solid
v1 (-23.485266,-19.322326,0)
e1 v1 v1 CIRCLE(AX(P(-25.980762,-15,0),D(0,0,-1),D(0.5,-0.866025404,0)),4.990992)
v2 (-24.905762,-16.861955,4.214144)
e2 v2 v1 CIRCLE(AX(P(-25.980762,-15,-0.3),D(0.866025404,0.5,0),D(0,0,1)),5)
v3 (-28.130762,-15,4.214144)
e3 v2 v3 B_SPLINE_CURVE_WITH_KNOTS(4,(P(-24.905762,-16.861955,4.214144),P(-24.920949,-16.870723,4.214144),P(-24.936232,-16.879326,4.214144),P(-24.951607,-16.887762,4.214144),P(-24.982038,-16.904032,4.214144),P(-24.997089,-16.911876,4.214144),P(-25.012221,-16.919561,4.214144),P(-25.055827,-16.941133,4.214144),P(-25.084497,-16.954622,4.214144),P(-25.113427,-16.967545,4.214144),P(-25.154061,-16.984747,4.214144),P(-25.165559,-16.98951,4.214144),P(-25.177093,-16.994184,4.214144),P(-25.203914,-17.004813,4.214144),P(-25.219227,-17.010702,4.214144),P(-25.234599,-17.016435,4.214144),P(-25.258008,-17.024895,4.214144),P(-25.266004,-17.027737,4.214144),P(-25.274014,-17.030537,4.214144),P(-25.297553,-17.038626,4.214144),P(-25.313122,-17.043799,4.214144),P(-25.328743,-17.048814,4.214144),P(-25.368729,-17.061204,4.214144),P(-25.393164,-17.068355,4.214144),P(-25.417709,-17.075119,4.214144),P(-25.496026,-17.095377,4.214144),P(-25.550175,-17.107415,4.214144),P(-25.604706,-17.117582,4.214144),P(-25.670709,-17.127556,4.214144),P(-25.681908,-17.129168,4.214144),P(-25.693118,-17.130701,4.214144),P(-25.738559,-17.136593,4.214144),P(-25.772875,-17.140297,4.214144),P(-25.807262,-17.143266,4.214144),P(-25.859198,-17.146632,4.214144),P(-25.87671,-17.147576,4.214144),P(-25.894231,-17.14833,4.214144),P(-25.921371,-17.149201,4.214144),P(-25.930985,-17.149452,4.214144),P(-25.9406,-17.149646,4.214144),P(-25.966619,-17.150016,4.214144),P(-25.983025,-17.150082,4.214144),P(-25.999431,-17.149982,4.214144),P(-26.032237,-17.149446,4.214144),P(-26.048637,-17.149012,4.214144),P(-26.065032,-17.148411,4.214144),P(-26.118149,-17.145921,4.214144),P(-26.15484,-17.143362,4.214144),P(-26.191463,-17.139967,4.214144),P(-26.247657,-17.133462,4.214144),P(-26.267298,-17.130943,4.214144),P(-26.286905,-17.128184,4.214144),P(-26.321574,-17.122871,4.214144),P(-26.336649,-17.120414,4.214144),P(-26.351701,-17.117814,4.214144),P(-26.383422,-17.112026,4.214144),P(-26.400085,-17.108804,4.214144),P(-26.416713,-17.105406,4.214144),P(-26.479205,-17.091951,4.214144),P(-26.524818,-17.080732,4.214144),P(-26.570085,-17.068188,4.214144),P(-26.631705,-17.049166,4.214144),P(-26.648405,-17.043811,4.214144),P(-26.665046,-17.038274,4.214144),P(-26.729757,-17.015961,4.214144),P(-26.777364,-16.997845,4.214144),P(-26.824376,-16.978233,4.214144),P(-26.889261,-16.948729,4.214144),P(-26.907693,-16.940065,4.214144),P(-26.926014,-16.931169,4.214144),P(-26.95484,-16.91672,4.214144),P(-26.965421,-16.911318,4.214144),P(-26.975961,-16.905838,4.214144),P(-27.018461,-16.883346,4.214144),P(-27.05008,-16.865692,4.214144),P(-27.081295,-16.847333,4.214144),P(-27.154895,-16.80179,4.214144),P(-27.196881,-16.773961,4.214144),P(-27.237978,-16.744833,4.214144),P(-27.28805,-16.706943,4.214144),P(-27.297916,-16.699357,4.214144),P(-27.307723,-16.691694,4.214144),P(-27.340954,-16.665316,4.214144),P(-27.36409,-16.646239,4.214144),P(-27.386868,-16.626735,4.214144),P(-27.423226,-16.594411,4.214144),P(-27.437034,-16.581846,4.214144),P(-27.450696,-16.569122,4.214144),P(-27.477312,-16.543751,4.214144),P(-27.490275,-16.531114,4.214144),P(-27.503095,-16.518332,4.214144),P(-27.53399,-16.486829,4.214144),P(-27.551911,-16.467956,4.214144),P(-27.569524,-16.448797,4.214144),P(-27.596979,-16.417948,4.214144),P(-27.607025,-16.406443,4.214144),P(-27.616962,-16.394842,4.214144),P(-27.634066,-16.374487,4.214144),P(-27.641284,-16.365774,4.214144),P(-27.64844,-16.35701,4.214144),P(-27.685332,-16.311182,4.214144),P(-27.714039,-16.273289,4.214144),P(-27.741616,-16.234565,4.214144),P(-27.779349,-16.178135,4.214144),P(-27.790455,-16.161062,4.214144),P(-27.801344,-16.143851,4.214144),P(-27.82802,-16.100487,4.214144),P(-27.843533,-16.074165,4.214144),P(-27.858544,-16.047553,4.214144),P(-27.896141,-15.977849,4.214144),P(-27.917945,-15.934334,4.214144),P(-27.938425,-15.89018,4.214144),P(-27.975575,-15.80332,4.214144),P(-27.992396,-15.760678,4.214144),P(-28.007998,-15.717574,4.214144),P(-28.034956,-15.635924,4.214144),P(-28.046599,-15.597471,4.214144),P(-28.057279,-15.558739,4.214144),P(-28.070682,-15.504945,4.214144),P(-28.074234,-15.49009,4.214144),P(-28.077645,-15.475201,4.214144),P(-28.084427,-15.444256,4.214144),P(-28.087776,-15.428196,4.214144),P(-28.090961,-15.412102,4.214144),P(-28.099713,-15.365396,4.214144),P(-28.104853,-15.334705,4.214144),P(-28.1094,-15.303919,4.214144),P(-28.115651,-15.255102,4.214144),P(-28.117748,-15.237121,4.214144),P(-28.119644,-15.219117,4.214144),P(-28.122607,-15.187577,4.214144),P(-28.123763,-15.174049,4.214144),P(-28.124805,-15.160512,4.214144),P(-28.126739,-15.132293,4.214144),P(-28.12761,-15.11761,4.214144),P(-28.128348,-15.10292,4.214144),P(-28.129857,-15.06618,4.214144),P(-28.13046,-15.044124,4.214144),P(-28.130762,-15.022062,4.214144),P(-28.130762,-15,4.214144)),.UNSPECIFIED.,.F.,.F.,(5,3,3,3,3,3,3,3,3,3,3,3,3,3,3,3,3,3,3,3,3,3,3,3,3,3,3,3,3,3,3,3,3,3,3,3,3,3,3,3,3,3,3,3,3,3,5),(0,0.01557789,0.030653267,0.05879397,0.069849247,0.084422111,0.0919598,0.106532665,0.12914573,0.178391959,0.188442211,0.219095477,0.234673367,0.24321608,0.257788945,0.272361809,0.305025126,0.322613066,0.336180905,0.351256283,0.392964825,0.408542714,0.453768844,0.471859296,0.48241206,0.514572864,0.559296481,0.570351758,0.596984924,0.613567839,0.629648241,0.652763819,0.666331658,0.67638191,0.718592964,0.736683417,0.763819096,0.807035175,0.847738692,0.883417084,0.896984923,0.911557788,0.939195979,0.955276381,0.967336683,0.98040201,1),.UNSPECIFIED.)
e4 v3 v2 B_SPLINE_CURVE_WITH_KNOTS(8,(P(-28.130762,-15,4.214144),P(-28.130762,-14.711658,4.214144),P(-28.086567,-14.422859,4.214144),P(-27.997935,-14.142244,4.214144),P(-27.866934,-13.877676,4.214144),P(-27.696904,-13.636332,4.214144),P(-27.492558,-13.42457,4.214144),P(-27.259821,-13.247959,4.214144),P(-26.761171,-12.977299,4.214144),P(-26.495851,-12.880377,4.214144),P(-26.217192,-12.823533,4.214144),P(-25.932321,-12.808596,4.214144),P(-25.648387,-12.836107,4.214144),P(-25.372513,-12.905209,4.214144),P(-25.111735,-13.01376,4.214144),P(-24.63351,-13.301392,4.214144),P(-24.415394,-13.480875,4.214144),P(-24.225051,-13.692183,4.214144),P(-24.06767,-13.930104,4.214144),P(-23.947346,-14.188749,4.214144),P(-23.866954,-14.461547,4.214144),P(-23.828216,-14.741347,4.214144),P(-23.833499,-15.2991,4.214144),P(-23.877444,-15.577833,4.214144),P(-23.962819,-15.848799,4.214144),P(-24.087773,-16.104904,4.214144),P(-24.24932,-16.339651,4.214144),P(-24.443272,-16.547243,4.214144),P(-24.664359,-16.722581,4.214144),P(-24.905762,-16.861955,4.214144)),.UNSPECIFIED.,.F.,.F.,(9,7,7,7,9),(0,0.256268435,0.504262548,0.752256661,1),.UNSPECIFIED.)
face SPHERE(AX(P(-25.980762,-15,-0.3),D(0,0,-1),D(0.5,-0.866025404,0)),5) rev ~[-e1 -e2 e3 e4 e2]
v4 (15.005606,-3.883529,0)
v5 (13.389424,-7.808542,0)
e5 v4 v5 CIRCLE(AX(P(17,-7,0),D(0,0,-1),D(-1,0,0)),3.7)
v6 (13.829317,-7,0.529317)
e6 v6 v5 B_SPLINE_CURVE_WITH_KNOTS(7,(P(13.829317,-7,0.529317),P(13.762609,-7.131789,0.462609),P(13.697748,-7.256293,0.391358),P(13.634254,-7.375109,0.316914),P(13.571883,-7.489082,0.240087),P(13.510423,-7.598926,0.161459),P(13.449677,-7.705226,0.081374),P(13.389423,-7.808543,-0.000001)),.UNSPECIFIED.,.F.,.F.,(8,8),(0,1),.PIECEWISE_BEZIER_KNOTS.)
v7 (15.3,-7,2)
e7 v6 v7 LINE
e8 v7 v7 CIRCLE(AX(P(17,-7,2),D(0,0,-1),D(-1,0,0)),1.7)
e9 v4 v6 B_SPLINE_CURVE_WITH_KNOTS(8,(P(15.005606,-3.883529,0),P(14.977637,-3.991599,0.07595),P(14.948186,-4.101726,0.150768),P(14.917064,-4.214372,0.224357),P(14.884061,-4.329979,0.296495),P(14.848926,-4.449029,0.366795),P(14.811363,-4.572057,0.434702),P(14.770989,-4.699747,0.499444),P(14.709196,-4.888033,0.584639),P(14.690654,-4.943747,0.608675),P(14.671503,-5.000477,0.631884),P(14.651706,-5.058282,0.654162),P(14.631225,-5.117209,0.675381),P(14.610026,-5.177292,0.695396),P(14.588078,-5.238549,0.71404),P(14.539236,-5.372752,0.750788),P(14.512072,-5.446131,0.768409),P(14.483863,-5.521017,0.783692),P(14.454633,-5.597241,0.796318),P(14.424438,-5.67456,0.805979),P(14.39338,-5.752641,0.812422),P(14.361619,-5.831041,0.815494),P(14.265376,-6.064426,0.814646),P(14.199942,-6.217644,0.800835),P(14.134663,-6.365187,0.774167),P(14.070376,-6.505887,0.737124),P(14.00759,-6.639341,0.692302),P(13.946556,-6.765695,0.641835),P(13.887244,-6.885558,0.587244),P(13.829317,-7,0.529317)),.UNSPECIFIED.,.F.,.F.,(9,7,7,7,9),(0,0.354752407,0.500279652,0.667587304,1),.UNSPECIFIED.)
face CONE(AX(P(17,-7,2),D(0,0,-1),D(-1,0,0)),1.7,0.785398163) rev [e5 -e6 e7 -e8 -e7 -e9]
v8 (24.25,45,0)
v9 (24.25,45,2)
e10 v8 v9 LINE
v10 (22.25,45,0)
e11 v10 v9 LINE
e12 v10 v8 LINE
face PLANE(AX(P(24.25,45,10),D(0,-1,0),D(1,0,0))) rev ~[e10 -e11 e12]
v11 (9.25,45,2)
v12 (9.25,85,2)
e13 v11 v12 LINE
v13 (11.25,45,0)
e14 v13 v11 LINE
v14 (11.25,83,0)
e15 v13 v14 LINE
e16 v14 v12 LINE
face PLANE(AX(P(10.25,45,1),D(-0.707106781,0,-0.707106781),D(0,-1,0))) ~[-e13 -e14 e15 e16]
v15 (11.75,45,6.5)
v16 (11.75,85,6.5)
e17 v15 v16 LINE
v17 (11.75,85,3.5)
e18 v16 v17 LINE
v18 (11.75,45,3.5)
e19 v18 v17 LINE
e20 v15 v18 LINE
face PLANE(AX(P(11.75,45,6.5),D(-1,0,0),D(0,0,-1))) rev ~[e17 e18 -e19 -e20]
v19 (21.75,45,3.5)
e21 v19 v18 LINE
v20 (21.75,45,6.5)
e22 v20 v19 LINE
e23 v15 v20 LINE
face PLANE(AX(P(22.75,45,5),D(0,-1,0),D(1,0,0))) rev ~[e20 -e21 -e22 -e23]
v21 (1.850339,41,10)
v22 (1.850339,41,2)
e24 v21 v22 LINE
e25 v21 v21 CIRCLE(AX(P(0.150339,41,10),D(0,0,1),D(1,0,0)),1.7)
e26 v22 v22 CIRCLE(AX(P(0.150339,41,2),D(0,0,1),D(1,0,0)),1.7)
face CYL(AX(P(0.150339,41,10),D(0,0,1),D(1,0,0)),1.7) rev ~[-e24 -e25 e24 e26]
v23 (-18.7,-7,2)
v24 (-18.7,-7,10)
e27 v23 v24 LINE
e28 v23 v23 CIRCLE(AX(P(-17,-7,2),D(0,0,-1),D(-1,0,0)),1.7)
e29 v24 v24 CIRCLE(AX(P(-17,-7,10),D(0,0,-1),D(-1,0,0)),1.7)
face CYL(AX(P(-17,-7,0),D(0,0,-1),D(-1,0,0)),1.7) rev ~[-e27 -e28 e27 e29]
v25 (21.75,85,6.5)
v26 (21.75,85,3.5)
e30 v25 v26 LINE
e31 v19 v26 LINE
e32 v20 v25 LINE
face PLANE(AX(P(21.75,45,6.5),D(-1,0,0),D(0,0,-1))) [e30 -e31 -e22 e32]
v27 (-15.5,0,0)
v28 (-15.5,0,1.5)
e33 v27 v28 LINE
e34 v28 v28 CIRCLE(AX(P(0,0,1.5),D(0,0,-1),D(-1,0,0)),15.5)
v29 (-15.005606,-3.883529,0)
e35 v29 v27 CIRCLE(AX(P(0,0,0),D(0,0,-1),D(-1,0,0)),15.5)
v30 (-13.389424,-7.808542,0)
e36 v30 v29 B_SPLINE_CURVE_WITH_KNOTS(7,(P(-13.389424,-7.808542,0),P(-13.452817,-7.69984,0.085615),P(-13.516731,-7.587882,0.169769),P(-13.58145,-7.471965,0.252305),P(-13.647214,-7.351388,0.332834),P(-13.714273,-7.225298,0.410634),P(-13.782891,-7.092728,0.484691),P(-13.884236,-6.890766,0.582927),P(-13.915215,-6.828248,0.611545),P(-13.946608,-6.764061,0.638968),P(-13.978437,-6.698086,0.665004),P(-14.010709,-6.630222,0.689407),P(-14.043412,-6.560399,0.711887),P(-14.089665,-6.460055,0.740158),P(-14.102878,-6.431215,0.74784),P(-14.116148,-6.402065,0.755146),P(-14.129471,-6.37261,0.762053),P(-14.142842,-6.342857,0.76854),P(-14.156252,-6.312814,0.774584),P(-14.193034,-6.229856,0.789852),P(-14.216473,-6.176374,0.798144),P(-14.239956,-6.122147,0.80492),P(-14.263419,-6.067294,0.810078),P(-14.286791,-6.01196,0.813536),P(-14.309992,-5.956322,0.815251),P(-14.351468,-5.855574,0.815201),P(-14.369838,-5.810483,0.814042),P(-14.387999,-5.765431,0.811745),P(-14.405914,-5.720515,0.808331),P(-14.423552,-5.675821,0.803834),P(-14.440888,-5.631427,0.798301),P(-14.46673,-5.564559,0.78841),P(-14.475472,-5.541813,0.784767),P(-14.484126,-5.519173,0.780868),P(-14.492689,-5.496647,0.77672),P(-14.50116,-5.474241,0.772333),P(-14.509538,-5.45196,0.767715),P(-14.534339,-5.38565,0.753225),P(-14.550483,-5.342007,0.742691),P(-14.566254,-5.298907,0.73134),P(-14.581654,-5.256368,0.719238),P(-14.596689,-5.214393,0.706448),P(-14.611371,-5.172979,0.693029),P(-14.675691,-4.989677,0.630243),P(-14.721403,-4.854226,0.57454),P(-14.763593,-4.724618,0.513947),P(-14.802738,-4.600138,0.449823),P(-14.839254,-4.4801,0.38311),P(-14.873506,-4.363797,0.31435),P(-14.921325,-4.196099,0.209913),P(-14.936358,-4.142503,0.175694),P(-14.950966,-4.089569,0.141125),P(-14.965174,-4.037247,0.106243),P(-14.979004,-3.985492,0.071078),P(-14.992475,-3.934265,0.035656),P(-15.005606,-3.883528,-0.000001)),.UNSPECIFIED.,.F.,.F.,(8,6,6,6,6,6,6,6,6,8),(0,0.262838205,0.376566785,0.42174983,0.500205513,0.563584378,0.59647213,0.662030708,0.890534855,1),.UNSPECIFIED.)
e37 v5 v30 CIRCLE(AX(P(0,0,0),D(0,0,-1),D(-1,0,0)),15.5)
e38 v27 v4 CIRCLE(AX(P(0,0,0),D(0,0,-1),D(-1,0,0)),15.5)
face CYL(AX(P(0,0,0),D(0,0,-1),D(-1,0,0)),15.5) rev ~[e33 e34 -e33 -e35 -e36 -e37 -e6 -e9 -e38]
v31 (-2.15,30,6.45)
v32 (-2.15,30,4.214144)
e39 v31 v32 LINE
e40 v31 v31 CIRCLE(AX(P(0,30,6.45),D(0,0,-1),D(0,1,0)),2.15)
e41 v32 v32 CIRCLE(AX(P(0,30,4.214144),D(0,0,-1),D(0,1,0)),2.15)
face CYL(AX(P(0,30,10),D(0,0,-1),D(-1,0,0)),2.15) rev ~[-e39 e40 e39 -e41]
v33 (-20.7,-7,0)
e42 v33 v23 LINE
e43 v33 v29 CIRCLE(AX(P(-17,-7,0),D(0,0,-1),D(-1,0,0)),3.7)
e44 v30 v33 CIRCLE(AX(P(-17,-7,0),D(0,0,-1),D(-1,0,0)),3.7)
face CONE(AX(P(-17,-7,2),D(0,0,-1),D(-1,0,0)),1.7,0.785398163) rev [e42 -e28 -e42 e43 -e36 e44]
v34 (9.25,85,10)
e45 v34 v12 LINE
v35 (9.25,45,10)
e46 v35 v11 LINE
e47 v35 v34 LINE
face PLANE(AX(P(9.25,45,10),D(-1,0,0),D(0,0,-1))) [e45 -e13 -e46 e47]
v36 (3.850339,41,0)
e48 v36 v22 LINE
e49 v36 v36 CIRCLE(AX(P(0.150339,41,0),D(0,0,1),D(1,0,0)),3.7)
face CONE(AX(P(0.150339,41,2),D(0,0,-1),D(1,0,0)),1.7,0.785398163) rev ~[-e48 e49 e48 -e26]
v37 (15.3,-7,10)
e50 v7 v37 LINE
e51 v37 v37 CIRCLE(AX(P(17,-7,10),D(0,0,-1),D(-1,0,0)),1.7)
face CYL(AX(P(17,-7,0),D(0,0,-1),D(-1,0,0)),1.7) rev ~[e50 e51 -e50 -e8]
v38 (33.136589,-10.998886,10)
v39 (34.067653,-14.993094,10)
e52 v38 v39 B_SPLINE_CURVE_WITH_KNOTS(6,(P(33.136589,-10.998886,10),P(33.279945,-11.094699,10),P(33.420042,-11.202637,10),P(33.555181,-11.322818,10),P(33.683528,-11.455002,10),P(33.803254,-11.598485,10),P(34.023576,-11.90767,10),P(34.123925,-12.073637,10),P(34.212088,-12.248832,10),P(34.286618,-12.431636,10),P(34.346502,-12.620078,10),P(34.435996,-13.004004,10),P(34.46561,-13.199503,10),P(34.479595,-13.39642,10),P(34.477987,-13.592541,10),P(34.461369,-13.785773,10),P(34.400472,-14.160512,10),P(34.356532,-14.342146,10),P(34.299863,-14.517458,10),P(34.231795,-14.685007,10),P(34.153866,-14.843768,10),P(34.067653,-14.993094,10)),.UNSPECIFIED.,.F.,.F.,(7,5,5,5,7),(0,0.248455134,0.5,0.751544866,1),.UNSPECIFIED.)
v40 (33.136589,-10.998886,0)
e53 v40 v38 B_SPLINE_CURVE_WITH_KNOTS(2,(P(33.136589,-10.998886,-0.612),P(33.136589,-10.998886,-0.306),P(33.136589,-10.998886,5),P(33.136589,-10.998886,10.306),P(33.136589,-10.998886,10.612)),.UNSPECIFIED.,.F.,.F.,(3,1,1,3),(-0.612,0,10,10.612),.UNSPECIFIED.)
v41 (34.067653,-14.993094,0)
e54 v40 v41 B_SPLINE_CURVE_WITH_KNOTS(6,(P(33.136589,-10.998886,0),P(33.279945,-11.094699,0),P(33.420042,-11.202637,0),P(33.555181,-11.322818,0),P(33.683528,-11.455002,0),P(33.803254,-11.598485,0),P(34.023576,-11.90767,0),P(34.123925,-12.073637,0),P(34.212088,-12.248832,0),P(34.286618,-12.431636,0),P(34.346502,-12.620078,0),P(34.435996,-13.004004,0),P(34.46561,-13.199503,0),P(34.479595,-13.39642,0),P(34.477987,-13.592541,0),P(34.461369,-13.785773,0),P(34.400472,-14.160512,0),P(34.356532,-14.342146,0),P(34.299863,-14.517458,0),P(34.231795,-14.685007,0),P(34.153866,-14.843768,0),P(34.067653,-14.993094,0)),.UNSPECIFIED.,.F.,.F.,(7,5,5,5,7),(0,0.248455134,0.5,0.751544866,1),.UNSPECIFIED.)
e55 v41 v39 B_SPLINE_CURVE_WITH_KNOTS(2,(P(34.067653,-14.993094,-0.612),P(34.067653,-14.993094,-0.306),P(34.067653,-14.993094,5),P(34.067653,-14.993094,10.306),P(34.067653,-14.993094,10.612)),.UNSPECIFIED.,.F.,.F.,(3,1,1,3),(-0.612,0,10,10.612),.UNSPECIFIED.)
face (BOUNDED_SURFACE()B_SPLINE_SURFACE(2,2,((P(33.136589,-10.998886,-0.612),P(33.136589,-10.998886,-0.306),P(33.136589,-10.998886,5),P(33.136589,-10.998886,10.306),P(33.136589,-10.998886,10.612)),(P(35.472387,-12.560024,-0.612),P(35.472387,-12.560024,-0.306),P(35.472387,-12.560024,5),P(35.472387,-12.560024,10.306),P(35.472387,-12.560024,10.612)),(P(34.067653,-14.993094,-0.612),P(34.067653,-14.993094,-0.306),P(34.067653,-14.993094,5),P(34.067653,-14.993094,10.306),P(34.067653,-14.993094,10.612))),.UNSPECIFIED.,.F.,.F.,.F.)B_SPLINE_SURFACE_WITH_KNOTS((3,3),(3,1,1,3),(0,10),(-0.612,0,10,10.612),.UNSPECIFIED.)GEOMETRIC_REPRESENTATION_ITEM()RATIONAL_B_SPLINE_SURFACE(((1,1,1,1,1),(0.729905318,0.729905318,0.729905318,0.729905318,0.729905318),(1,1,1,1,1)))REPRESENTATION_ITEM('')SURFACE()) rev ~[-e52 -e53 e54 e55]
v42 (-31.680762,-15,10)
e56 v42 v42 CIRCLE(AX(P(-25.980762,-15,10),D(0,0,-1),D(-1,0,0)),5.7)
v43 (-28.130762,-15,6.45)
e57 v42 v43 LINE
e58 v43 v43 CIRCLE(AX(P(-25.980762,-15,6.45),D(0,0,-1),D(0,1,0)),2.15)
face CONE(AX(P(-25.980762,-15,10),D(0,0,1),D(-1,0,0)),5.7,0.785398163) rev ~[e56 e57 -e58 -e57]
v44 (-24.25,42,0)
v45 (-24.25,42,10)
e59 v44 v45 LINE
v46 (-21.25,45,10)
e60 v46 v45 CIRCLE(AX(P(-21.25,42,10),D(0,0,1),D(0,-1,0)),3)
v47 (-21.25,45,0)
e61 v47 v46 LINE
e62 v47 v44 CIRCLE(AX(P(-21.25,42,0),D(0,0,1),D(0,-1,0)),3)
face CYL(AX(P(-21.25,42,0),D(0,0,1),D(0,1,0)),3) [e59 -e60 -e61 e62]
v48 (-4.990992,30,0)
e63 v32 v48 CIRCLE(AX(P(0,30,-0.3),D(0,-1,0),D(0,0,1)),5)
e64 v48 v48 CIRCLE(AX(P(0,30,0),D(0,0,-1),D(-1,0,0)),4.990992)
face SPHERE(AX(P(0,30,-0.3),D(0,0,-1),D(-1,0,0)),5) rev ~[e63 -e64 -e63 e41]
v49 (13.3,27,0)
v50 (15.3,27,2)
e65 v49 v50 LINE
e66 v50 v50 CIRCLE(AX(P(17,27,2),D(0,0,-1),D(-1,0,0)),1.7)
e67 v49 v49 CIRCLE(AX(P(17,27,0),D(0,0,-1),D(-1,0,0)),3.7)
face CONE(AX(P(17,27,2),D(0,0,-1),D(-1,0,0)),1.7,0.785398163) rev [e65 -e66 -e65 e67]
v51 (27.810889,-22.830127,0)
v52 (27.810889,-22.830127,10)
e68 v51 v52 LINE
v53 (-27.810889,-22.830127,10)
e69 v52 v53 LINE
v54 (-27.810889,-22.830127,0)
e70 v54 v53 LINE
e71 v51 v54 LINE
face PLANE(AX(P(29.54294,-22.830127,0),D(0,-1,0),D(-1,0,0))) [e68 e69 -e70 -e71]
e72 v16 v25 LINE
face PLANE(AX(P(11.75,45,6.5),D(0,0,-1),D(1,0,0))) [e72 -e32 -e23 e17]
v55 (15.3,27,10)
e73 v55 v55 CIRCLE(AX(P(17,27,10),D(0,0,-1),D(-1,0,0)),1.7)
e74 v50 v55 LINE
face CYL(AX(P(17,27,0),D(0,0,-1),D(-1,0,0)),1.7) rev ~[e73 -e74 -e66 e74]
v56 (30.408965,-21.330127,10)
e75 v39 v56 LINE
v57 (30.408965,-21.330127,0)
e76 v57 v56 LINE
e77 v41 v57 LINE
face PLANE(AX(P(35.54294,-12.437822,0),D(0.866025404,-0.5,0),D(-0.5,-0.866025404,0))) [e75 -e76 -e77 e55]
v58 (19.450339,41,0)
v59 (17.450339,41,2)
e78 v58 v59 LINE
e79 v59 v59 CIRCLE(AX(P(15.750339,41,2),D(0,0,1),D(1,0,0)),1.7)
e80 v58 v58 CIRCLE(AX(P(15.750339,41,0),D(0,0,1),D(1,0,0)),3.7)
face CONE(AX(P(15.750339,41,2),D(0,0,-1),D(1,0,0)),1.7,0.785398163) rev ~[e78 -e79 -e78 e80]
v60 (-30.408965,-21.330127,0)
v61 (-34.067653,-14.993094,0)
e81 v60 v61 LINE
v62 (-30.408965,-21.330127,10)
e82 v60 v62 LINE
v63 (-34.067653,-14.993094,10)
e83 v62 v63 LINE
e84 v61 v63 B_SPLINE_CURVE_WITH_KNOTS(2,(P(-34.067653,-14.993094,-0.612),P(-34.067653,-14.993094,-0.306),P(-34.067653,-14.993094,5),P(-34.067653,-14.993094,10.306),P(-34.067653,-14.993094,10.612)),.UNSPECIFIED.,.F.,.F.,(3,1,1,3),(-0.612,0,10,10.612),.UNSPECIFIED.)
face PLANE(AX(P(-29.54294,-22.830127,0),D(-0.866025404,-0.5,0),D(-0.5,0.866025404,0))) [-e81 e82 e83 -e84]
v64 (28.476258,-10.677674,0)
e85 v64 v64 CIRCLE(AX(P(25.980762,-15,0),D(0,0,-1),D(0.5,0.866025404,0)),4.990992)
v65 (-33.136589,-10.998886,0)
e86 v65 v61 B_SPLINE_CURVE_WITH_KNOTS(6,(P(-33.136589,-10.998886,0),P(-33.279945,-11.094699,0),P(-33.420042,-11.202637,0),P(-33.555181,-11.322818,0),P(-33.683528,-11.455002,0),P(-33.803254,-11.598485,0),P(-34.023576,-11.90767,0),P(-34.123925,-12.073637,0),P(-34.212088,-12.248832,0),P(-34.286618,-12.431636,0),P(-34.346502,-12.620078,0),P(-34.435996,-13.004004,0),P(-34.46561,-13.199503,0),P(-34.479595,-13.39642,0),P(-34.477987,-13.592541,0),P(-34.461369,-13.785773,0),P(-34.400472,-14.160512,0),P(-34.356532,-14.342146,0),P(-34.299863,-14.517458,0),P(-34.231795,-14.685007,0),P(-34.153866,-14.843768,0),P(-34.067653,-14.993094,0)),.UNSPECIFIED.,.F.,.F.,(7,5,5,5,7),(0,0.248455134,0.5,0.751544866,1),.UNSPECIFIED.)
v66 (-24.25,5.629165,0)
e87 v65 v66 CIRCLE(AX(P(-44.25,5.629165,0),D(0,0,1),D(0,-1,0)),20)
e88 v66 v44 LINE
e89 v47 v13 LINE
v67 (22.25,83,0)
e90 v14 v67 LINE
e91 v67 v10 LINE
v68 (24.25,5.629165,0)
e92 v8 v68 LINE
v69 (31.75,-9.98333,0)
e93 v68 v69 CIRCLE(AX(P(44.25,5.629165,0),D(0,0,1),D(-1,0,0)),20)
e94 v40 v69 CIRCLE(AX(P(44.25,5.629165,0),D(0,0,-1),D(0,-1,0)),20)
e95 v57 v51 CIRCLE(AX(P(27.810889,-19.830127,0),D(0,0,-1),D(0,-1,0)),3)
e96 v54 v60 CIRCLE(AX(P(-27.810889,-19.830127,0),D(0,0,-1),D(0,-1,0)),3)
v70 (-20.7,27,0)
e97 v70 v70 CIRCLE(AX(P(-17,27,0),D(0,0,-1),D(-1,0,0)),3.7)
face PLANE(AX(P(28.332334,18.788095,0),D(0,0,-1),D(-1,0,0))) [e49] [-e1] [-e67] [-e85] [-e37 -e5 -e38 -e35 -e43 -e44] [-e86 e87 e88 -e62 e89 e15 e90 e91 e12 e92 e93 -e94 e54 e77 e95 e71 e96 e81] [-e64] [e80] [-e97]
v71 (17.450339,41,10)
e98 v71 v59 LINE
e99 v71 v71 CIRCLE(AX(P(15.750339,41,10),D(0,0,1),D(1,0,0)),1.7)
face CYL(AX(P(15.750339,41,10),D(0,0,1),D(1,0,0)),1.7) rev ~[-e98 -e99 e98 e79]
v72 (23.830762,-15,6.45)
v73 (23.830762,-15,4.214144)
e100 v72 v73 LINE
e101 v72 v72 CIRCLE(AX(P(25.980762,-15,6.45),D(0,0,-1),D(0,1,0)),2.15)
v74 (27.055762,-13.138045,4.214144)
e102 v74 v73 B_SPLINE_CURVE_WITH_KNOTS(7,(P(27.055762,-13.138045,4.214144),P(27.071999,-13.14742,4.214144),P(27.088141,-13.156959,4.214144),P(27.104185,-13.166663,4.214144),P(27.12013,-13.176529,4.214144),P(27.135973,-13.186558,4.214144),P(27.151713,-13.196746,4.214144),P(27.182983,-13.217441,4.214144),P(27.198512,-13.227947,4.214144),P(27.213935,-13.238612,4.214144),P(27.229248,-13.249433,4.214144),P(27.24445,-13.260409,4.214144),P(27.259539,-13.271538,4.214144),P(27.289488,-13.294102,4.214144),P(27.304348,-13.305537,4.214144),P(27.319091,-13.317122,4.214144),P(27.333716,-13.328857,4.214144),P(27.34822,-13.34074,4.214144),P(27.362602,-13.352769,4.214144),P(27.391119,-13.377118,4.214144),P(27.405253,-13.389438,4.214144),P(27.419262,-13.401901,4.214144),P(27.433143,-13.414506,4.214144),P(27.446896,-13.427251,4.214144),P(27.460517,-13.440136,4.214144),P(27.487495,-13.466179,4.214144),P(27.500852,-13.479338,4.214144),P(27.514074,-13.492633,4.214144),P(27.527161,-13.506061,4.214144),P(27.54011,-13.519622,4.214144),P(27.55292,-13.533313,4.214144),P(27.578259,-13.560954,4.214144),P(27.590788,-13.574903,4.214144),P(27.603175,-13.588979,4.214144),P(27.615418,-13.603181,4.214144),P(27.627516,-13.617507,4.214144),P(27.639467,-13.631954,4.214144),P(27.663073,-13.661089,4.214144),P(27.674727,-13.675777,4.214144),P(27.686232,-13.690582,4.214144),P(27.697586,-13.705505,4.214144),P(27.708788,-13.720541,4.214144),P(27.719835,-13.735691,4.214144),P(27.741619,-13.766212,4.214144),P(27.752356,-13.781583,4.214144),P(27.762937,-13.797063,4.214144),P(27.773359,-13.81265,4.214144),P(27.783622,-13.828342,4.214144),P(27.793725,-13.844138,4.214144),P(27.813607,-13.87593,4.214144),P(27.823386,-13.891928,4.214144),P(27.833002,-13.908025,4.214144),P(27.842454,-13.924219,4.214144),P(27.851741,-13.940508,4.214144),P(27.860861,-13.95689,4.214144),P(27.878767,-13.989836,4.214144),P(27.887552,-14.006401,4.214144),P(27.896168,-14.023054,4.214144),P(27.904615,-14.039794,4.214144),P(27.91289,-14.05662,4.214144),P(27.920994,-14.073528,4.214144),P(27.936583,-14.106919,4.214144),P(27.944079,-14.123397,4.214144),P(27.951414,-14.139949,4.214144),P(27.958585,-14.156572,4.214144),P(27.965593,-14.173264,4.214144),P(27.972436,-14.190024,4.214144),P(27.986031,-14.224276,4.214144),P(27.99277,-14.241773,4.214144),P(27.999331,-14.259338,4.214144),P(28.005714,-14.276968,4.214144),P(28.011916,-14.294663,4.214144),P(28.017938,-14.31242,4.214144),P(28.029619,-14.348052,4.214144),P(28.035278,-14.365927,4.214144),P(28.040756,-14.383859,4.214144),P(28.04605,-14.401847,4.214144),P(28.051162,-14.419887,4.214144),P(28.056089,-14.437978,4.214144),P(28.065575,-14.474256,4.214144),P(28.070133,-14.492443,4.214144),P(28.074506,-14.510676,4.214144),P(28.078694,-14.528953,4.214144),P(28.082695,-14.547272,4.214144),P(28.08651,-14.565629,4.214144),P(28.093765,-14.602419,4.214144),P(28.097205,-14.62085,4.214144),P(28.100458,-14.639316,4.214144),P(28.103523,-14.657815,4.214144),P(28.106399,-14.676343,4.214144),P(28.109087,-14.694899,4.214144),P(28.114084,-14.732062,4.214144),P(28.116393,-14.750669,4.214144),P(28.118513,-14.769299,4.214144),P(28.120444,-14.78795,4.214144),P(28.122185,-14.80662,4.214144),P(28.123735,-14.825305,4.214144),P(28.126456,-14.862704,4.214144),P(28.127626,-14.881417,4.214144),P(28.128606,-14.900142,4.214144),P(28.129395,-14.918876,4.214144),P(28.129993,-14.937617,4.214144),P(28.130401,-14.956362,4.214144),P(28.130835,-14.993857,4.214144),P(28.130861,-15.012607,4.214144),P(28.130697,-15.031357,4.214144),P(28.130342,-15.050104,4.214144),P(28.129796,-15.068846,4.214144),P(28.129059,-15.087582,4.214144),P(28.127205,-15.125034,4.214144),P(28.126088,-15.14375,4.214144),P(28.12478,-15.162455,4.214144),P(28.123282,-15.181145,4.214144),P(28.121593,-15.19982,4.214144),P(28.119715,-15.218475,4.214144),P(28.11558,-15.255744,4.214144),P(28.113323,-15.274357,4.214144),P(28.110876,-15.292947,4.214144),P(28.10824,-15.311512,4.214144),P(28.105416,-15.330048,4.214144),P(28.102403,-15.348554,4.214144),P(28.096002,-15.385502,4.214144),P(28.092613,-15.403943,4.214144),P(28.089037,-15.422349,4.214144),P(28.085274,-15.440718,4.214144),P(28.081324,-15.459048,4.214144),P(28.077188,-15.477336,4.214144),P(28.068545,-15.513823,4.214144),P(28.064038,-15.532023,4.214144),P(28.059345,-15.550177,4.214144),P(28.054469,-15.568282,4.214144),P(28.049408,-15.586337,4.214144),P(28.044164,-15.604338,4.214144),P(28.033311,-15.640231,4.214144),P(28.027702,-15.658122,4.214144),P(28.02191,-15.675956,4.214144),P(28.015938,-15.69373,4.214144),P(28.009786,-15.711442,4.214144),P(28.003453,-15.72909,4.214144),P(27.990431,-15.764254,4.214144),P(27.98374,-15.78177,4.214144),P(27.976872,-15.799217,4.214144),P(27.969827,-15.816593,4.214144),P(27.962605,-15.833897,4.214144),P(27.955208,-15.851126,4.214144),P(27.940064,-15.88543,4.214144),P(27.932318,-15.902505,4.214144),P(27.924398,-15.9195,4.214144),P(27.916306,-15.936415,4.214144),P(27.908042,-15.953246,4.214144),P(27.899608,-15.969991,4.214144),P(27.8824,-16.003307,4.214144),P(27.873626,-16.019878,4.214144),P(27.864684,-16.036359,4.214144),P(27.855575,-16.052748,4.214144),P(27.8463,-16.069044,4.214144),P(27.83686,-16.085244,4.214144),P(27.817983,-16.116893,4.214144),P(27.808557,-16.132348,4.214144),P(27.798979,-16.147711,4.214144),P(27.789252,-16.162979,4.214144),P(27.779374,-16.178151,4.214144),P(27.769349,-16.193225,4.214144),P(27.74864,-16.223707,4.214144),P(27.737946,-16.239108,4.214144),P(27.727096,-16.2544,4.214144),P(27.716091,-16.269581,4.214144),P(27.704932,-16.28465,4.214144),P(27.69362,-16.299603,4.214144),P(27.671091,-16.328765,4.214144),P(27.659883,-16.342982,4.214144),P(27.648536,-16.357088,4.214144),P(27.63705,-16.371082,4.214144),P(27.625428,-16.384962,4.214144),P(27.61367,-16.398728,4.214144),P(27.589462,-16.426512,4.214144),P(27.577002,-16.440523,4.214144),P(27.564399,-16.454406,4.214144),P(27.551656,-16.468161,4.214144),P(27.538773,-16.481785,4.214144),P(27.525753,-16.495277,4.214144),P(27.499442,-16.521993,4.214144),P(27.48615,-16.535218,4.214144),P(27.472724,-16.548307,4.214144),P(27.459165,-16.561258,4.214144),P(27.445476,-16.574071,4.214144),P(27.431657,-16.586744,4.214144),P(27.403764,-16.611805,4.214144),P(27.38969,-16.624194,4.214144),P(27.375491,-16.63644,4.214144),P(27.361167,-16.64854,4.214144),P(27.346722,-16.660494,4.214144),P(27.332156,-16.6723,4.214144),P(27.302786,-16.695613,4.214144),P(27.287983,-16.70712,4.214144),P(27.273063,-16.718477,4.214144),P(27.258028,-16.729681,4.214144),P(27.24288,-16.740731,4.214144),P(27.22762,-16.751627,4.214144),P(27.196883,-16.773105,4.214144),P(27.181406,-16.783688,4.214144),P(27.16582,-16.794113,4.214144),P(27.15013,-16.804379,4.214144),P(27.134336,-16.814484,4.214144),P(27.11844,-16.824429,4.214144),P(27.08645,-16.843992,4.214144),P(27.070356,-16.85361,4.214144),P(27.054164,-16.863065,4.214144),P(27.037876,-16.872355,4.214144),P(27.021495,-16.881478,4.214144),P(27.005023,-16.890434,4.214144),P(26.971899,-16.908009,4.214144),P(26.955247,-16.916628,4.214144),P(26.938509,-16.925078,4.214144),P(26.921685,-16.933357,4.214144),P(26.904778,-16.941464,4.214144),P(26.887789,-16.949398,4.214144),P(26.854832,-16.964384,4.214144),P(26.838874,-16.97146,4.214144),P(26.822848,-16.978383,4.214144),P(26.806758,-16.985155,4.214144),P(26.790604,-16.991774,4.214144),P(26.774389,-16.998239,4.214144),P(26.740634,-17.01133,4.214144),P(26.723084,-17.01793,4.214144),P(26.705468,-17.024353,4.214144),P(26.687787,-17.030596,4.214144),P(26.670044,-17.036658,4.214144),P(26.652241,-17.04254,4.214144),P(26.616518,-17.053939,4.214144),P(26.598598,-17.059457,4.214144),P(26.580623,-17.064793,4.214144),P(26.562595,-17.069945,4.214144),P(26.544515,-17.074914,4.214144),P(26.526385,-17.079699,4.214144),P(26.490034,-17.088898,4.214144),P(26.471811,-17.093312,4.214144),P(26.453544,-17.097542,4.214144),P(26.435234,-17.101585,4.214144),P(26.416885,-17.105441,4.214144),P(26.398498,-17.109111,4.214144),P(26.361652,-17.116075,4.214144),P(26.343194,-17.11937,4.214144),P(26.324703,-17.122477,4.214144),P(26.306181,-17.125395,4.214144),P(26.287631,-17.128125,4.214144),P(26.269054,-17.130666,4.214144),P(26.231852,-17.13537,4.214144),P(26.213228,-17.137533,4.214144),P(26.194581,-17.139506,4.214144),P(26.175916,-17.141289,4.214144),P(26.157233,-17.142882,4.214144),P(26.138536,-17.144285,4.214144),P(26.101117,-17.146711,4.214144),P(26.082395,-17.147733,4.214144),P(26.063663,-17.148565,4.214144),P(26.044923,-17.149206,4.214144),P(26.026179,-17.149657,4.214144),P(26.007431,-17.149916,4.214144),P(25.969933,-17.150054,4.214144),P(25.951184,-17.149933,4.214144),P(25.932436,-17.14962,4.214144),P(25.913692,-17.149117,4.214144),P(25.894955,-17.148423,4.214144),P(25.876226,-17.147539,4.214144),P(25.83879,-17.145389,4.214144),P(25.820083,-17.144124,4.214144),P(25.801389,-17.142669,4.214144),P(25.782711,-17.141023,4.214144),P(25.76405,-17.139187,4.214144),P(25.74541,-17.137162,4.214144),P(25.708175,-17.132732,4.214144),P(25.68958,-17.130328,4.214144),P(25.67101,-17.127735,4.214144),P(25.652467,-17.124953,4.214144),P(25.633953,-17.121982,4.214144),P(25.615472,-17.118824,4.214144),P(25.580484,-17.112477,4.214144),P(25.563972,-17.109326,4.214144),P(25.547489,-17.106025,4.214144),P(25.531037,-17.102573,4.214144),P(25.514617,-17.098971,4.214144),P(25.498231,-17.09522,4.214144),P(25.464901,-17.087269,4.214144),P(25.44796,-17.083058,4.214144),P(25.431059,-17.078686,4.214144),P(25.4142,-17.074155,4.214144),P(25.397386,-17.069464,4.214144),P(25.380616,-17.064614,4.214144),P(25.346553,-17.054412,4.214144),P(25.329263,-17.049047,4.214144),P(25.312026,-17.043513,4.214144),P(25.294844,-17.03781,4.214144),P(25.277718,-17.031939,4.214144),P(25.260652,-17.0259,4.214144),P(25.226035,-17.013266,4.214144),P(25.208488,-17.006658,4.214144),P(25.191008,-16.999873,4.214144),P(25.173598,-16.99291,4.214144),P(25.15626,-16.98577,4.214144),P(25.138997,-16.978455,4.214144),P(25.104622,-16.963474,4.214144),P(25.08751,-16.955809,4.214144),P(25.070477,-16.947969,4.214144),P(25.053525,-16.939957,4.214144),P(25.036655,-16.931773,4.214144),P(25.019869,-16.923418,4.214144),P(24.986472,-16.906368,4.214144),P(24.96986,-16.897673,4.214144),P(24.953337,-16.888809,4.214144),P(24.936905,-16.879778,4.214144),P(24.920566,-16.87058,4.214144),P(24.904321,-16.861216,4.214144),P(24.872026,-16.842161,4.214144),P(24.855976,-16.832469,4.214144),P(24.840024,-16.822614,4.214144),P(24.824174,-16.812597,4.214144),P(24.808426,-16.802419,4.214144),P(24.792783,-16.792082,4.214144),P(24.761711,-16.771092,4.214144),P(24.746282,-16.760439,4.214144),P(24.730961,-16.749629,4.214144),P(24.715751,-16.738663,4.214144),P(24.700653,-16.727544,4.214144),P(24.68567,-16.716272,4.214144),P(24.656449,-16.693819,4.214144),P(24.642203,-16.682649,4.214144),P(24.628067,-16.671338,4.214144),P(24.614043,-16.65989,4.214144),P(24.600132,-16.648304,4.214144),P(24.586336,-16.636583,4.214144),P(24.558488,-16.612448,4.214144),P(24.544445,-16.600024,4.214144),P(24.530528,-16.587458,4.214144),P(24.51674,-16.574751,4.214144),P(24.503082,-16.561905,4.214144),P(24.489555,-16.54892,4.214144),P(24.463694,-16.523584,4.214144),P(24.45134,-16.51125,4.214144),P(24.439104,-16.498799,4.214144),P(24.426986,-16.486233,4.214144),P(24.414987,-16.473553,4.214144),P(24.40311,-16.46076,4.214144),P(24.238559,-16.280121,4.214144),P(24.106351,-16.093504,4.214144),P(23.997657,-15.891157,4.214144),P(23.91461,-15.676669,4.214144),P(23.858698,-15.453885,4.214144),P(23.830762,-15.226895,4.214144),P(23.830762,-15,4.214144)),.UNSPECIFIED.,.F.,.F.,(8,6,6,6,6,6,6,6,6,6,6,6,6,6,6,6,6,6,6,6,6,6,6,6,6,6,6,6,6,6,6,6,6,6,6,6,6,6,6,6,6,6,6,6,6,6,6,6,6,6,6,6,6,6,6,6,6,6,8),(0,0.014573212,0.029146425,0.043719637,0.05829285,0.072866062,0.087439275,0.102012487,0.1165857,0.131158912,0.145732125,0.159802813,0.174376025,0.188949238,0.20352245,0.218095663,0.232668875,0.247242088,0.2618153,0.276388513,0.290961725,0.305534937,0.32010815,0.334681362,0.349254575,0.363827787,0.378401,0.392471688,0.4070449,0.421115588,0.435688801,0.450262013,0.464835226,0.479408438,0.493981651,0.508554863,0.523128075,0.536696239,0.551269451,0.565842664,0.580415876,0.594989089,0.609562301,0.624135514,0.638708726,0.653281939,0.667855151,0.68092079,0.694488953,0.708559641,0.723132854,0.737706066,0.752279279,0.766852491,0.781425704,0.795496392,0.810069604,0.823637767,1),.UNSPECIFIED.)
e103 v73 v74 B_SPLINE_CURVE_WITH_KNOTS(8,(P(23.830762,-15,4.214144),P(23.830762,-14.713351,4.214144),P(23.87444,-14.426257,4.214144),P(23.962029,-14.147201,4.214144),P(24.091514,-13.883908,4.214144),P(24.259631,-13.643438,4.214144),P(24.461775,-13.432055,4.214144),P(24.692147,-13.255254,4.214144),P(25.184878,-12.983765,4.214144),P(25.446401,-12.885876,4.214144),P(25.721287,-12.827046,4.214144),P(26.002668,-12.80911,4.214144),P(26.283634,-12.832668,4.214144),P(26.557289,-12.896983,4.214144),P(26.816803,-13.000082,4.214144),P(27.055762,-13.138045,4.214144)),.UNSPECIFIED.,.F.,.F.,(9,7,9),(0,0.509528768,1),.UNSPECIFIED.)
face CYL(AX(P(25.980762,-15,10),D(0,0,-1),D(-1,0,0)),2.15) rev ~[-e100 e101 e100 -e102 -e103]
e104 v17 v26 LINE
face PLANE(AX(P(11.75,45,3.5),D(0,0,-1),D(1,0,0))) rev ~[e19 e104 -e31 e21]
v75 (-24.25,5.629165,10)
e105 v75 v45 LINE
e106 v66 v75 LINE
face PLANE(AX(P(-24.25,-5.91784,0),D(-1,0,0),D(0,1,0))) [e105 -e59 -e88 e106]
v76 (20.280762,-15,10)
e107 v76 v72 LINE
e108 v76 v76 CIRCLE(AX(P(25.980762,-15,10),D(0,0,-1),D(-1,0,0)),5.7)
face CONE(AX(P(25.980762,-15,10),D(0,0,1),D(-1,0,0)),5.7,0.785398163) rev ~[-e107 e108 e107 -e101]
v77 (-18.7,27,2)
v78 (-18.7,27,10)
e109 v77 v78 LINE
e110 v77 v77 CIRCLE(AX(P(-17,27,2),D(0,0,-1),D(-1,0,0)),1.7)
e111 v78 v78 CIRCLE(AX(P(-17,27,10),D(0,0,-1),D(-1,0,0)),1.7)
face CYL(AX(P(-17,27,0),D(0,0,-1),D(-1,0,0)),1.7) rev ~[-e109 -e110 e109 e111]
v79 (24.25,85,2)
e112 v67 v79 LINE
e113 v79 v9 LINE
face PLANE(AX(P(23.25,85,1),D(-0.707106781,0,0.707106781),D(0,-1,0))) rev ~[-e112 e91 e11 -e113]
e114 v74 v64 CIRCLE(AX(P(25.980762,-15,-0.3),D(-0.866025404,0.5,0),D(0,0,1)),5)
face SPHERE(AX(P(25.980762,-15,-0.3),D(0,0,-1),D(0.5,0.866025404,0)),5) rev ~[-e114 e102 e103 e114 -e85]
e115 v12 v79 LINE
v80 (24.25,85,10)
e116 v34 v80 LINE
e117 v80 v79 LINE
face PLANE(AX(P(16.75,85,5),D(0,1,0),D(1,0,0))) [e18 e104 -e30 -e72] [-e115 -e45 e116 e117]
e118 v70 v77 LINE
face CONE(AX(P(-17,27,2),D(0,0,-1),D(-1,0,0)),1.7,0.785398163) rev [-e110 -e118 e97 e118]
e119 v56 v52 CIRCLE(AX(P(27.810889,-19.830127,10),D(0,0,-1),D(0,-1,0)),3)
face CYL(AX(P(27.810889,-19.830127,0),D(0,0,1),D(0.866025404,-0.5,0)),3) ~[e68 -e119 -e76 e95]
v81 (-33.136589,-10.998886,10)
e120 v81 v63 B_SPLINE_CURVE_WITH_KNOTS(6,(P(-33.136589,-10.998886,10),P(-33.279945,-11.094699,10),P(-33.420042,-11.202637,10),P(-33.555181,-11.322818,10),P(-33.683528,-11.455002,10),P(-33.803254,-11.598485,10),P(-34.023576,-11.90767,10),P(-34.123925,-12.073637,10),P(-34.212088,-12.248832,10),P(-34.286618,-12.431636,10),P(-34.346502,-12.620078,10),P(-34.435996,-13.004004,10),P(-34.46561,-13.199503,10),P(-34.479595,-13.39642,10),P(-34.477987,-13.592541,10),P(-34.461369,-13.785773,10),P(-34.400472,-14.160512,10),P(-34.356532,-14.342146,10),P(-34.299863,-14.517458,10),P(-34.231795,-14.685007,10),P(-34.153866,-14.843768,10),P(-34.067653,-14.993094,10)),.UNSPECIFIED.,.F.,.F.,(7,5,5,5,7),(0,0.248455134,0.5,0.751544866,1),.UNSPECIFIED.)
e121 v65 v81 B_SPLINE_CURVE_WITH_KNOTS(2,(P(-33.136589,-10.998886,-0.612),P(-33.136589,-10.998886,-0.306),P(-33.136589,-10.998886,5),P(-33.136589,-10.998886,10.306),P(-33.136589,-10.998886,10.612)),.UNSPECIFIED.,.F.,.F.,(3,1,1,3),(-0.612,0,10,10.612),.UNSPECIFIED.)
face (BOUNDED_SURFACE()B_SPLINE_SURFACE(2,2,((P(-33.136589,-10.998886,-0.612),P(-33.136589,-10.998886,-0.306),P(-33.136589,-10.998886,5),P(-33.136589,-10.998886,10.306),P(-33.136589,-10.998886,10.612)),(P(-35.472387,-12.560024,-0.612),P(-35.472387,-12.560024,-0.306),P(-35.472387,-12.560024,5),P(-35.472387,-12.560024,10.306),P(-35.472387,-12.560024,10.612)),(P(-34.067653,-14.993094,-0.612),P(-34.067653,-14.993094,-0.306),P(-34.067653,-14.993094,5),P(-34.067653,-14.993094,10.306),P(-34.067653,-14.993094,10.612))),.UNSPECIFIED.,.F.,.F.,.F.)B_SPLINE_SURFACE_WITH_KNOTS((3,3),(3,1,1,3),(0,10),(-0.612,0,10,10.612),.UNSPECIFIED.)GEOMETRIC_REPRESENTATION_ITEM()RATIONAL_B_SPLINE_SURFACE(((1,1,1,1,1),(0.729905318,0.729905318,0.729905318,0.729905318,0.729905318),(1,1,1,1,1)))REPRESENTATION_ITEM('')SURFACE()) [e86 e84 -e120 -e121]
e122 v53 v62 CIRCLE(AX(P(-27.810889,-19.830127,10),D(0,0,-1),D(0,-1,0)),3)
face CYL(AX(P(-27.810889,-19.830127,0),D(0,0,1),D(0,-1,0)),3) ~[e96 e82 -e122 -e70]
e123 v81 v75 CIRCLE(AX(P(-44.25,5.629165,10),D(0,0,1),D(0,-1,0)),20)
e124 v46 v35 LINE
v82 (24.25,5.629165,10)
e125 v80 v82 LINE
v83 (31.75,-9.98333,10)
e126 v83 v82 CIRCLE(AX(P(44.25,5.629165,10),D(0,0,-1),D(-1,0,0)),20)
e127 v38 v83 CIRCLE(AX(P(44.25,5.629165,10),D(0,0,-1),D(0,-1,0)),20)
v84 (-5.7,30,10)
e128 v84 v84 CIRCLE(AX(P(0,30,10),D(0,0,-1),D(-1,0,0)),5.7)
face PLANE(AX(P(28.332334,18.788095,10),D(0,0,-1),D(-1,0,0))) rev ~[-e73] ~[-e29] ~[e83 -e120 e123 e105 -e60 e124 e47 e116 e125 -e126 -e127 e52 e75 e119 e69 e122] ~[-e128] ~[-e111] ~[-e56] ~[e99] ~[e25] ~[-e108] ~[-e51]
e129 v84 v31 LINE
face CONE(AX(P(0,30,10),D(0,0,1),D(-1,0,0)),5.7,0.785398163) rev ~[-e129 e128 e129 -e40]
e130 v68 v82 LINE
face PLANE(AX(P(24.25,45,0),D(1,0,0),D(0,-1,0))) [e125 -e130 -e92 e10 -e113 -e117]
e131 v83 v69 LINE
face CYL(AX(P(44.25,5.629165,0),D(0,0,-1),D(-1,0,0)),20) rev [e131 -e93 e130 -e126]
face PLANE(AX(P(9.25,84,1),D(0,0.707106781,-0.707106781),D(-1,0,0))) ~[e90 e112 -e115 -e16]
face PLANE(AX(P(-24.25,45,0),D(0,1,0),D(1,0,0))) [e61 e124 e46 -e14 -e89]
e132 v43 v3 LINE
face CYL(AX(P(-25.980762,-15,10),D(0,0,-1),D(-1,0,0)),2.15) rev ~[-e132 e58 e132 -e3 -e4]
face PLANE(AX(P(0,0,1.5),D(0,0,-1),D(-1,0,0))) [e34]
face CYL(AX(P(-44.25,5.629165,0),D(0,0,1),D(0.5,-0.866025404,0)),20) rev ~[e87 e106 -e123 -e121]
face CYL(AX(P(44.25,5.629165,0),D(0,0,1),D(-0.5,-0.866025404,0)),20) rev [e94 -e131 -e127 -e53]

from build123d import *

# Parameters (mm, degrees)
SKETCH2_R                                       = 7.5
BOSS_EXTRUDE1_DEPTH                             = 10
CSK_FOR_M4_FLAT_HEAD_MACHINE_SCREW1_D           = 4.3
CSK_FOR_M4_FLAT_HEAD_MACHINE_SCREW1_CSINK_D     = 11.4
CSK_FOR_M4_FLAT_HEAD_MACHINE_SCREW1_CSINK_ANGLE = 90
FILLET1_R                                       = 20
CIRPATTERN2_COUNT                               = 3
FILLET2_R                                       = 3
SKETCH47_R                                      = 1.7
CUT_EXTRUDE1_DEPTH                              = 58.559983963
SKETCH49_W                                      = 15
SKETCH49_H                                      = 10
SKETCH49_W_2                                    = 10
SKETCH49_H_2                                    = 3
BOSS_EXTRUDE2_DEPTH                             = 40
CHAMFER1_SIZE                                   = 2
BOSS_EXTRUDE3_REACH                             = 78.74
SKETCH51_W                                      = 3
SKETCH51_H                                      = 10
BOSS_EXTRUDE4_DEPTH                             = 10
SKETCH48_R                                      = 1.7
CUT_EXTRUDE2_DEPTH                              = 93.266742447
CHAMFER4_SIZE                                   = 2
CHAMFER3_SIZE                                   = 2
SKETCH53_R                                      = 15.5
CUT_EXTRUDE3_DEPTH                              = 1.5
SKETCH54_R                                      = 7.5
BOSS_EXTRUDE5_DEPTH                             = 8.5
CUT_EXTRUDE4_DEPTH                              = 93.266742447


with BuildPart() as part:
    # Sketch2 → Boss-Extrude1 (new body)
    with BuildSketch(Plane.XY):
        Polygon((-24.25, 45), (24.25, 45), (24.25, -5.917840259), (35.54293994, -12.437822174), (29.54293994, -22.830127019), (-29.54293994, -22.830127019), (-35.54293994, -12.437822174), (-24.25, -5.917840259), align=None)
        Circle(SKETCH2_R, mode=Mode.SUBTRACT)
    extrude(amount=BOSS_EXTRUDE1_DEPTH)

    # CSK for M4 Flat Head Machine Screw1 (through all)
    with Locations(Plane.XY.offset(10)):
        with Locations((-25.980762114, -15), (0, 30), (25.980762114, -15)):
            CounterSinkHole(CSK_FOR_M4_FLAT_HEAD_MACHINE_SCREW1_D / 2, CSK_FOR_M4_FLAT_HEAD_MACHINE_SCREW1_CSINK_D / 2, counter_sink_angle=CSK_FOR_M4_FLAT_HEAD_MACHINE_SCREW1_CSINK_ANGLE)

    # Fillet1
    fillet1_edges = [part.edges().sort_by_distance(p)[0] for p in [
        (24.25, -5.917840259, 5),
        (-24.25, -5.917840259, 5),
    ]]
    fillet(fillet1_edges, radius=FILLET1_R)

    # Sketch46 → tool ball cutout (revolve, cut)
    with BuildSketch(Plane(origin=(0, 30, 0), x_dir=(1, 0, 0), z_dir=(0, 1, 0))):
        with BuildLine():
            Line((0, 5.3), (0, -4.7))
            ThreePointArc((0, -4.7), (-5, 0.3), (0, 5.3))
        make_face()
    tool_ball_cutout = revolve(axis=Axis((0, 30, 0), (0, 0, -1)), mode=Mode.SUBTRACT)

    # CirPattern2: tool ball cutout ×3 about axis
    cirpattern2_axis = Axis((0, 0, 0), (0, 0, 1))
    for i in range(1, CIRPATTERN2_COUNT):
        add(tool_ball_cutout.rotate(cirpattern2_axis, i * 360 / CIRPATTERN2_COUNT), mode=Mode.SUBTRACT)

    # Fillet2
    fillet2_edges = [part.edges().sort_by_distance(p)[0] for p in [
        (24.25, 45, 5),
        (-24.25, 45, 5),
        (-29.54293994, -22.830127019, 5),
        (-35.54293994, -12.437822174, 5),
        (29.54293994, -22.830127019, 5),
        (35.54293994, -12.437822174, 5),
    ]]
    fillet(fillet2_edges, radius=FILLET2_R)

    # Sketch47 → Cut-Extrude1 (cut, through all)
    with BuildSketch(Plane(origin=(0, 0, 0), x_dir=(-1, 0, 0), z_dir=(0, 0, -1))):
        with Locations((-17, 27)):
            Circle(SKETCH47_R)
        with Locations((17, 27)):
            Circle(SKETCH47_R)
        with Locations((17, -7)):
            Circle(SKETCH47_R)
        with Locations((-17, -7)):
            Circle(SKETCH47_R)
    extrude(amount=-CUT_EXTRUDE1_DEPTH, mode=Mode.SUBTRACT)

    # Sketch49 → Boss-Extrude2 (add)
    with BuildSketch(Plane(origin=(0, 45, 0), x_dir=(1, 0, 0), z_dir=(0, 1, 0))):
        with Locations((16.75, -5)):
            Rectangle(SKETCH49_W, SKETCH49_H)
        with Locations((16.75, -5)):
            Rectangle(SKETCH49_W_2, SKETCH49_H_2, mode=Mode.SUBTRACT)
    extrude(amount=BOSS_EXTRUDE2_DEPTH)

    # Chamfer1
    chamfer1_edges = [part.edges().sort_by_distance(p)[0] for p in [
        (18.7, -7, 0),
        (-15.3, -7, 0),
        (-15.3, 27, 0),
        (18.7, 27, 0),
    ]]
    chamfer(chamfer1_edges, length=CHAMFER1_SIZE)

    # Sketch51 → Boss-Extrude3 (add, up to next)
    with BuildSketch(Plane.XZ.offset(-45), mode=Mode.PRIVATE) as boss_extrude3_sk1:
        with Locations((22.75, 5)):
            Rectangle(SKETCH51_W, SKETCH51_H)
    boss_extrude3_tool1 = extrude(boss_extrude3_sk1.sketch, amount=BOSS_EXTRUDE3_REACH, mode=Mode.PRIVATE) - part.part
    add(boss_extrude3_tool1.solids().sort_by_distance((22.75, 45, 5))[0])

    # Sketch52 → Boss-Extrude4 (add)
    with BuildSketch(Plane.XY.offset(10)):
        with BuildLine():
            Line((24.25, 45), (31.75, 45))
            Line((31.75, 45), (31.75, -9.983329871))
            ThreePointArc((31.75, -9.983329871), (26.222243623, -3.031088913), (24.25, 5.629165125))
            Line((24.25, 5.629165125), (24.25, 45))
        make_face()
    extrude(amount=-BOSS_EXTRUDE4_DEPTH)

    # Sketch48 → Cut-Extrude2 (cut, through all)
    with BuildSketch(Plane.XY.offset(10)):
        with Locations((0.150338606, 41)):
            Circle(SKETCH48_R)
        with Locations((15.750338606, 41)):
            Circle(SKETCH48_R)
    extrude(amount=-CUT_EXTRUDE2_DEPTH, mode=Mode.SUBTRACT)

    # Chamfer4
    chamfer4_edges = [part.edges().sort_by_distance(p)[0] for p in [
        (-1.549661394, 41, 0),
        (14.050338606, 41, 0),
    ]]
    chamfer(chamfer4_edges, length=CHAMFER4_SIZE)

    # Chamfer3
    chamfer3_edges = [part.edges().sort_by_distance(p)[0] for p in [
        (16.75, 85, 0),
        (9.25, 65, 0),
        (24.25, 65, 0),
    ]]
    chamfer(chamfer3_edges, length=CHAMFER3_SIZE)

    # Sketch53 → Cut-Extrude3 (cut)
    with BuildSketch(Plane(origin=(0, 0, 0), x_dir=(-1, 0, 0), z_dir=(0, 0, -1))):
        Circle(SKETCH53_R)
    extrude(amount=-CUT_EXTRUDE3_DEPTH, mode=Mode.SUBTRACT)

    # Sketch54 → Boss-Extrude5 (add)
    with BuildSketch(Plane(origin=(0, 0, 1.5), x_dir=(-1, 0, 0), z_dir=(0, 0, -1))):
        Circle(SKETCH54_R)
    extrude(amount=-BOSS_EXTRUDE5_DEPTH)

    # Sketch55 → Cut-Extrude4 (cut, through all)
    with BuildSketch(Plane(origin=(0, 0, 0), x_dir=(-1, 0, 0), z_dir=(0, 0, -1))):
        with BuildLine():
            Line((-24.25, 45), (-24.25, 5.629165125))
            ThreePointArc((-24.25, 5.629165125), (-26.222243623, -3.031088913), (-31.75, -9.983329871))
            Line((-31.75, -9.983329871), (-31.75, 45))
            Line((-31.75, 45), (-24.25, 45))
        make_face()
    extrude(amount=-CUT_EXTRUDE4_DEPTH, mode=Mode.SUBTRACT)


solid = part.part
